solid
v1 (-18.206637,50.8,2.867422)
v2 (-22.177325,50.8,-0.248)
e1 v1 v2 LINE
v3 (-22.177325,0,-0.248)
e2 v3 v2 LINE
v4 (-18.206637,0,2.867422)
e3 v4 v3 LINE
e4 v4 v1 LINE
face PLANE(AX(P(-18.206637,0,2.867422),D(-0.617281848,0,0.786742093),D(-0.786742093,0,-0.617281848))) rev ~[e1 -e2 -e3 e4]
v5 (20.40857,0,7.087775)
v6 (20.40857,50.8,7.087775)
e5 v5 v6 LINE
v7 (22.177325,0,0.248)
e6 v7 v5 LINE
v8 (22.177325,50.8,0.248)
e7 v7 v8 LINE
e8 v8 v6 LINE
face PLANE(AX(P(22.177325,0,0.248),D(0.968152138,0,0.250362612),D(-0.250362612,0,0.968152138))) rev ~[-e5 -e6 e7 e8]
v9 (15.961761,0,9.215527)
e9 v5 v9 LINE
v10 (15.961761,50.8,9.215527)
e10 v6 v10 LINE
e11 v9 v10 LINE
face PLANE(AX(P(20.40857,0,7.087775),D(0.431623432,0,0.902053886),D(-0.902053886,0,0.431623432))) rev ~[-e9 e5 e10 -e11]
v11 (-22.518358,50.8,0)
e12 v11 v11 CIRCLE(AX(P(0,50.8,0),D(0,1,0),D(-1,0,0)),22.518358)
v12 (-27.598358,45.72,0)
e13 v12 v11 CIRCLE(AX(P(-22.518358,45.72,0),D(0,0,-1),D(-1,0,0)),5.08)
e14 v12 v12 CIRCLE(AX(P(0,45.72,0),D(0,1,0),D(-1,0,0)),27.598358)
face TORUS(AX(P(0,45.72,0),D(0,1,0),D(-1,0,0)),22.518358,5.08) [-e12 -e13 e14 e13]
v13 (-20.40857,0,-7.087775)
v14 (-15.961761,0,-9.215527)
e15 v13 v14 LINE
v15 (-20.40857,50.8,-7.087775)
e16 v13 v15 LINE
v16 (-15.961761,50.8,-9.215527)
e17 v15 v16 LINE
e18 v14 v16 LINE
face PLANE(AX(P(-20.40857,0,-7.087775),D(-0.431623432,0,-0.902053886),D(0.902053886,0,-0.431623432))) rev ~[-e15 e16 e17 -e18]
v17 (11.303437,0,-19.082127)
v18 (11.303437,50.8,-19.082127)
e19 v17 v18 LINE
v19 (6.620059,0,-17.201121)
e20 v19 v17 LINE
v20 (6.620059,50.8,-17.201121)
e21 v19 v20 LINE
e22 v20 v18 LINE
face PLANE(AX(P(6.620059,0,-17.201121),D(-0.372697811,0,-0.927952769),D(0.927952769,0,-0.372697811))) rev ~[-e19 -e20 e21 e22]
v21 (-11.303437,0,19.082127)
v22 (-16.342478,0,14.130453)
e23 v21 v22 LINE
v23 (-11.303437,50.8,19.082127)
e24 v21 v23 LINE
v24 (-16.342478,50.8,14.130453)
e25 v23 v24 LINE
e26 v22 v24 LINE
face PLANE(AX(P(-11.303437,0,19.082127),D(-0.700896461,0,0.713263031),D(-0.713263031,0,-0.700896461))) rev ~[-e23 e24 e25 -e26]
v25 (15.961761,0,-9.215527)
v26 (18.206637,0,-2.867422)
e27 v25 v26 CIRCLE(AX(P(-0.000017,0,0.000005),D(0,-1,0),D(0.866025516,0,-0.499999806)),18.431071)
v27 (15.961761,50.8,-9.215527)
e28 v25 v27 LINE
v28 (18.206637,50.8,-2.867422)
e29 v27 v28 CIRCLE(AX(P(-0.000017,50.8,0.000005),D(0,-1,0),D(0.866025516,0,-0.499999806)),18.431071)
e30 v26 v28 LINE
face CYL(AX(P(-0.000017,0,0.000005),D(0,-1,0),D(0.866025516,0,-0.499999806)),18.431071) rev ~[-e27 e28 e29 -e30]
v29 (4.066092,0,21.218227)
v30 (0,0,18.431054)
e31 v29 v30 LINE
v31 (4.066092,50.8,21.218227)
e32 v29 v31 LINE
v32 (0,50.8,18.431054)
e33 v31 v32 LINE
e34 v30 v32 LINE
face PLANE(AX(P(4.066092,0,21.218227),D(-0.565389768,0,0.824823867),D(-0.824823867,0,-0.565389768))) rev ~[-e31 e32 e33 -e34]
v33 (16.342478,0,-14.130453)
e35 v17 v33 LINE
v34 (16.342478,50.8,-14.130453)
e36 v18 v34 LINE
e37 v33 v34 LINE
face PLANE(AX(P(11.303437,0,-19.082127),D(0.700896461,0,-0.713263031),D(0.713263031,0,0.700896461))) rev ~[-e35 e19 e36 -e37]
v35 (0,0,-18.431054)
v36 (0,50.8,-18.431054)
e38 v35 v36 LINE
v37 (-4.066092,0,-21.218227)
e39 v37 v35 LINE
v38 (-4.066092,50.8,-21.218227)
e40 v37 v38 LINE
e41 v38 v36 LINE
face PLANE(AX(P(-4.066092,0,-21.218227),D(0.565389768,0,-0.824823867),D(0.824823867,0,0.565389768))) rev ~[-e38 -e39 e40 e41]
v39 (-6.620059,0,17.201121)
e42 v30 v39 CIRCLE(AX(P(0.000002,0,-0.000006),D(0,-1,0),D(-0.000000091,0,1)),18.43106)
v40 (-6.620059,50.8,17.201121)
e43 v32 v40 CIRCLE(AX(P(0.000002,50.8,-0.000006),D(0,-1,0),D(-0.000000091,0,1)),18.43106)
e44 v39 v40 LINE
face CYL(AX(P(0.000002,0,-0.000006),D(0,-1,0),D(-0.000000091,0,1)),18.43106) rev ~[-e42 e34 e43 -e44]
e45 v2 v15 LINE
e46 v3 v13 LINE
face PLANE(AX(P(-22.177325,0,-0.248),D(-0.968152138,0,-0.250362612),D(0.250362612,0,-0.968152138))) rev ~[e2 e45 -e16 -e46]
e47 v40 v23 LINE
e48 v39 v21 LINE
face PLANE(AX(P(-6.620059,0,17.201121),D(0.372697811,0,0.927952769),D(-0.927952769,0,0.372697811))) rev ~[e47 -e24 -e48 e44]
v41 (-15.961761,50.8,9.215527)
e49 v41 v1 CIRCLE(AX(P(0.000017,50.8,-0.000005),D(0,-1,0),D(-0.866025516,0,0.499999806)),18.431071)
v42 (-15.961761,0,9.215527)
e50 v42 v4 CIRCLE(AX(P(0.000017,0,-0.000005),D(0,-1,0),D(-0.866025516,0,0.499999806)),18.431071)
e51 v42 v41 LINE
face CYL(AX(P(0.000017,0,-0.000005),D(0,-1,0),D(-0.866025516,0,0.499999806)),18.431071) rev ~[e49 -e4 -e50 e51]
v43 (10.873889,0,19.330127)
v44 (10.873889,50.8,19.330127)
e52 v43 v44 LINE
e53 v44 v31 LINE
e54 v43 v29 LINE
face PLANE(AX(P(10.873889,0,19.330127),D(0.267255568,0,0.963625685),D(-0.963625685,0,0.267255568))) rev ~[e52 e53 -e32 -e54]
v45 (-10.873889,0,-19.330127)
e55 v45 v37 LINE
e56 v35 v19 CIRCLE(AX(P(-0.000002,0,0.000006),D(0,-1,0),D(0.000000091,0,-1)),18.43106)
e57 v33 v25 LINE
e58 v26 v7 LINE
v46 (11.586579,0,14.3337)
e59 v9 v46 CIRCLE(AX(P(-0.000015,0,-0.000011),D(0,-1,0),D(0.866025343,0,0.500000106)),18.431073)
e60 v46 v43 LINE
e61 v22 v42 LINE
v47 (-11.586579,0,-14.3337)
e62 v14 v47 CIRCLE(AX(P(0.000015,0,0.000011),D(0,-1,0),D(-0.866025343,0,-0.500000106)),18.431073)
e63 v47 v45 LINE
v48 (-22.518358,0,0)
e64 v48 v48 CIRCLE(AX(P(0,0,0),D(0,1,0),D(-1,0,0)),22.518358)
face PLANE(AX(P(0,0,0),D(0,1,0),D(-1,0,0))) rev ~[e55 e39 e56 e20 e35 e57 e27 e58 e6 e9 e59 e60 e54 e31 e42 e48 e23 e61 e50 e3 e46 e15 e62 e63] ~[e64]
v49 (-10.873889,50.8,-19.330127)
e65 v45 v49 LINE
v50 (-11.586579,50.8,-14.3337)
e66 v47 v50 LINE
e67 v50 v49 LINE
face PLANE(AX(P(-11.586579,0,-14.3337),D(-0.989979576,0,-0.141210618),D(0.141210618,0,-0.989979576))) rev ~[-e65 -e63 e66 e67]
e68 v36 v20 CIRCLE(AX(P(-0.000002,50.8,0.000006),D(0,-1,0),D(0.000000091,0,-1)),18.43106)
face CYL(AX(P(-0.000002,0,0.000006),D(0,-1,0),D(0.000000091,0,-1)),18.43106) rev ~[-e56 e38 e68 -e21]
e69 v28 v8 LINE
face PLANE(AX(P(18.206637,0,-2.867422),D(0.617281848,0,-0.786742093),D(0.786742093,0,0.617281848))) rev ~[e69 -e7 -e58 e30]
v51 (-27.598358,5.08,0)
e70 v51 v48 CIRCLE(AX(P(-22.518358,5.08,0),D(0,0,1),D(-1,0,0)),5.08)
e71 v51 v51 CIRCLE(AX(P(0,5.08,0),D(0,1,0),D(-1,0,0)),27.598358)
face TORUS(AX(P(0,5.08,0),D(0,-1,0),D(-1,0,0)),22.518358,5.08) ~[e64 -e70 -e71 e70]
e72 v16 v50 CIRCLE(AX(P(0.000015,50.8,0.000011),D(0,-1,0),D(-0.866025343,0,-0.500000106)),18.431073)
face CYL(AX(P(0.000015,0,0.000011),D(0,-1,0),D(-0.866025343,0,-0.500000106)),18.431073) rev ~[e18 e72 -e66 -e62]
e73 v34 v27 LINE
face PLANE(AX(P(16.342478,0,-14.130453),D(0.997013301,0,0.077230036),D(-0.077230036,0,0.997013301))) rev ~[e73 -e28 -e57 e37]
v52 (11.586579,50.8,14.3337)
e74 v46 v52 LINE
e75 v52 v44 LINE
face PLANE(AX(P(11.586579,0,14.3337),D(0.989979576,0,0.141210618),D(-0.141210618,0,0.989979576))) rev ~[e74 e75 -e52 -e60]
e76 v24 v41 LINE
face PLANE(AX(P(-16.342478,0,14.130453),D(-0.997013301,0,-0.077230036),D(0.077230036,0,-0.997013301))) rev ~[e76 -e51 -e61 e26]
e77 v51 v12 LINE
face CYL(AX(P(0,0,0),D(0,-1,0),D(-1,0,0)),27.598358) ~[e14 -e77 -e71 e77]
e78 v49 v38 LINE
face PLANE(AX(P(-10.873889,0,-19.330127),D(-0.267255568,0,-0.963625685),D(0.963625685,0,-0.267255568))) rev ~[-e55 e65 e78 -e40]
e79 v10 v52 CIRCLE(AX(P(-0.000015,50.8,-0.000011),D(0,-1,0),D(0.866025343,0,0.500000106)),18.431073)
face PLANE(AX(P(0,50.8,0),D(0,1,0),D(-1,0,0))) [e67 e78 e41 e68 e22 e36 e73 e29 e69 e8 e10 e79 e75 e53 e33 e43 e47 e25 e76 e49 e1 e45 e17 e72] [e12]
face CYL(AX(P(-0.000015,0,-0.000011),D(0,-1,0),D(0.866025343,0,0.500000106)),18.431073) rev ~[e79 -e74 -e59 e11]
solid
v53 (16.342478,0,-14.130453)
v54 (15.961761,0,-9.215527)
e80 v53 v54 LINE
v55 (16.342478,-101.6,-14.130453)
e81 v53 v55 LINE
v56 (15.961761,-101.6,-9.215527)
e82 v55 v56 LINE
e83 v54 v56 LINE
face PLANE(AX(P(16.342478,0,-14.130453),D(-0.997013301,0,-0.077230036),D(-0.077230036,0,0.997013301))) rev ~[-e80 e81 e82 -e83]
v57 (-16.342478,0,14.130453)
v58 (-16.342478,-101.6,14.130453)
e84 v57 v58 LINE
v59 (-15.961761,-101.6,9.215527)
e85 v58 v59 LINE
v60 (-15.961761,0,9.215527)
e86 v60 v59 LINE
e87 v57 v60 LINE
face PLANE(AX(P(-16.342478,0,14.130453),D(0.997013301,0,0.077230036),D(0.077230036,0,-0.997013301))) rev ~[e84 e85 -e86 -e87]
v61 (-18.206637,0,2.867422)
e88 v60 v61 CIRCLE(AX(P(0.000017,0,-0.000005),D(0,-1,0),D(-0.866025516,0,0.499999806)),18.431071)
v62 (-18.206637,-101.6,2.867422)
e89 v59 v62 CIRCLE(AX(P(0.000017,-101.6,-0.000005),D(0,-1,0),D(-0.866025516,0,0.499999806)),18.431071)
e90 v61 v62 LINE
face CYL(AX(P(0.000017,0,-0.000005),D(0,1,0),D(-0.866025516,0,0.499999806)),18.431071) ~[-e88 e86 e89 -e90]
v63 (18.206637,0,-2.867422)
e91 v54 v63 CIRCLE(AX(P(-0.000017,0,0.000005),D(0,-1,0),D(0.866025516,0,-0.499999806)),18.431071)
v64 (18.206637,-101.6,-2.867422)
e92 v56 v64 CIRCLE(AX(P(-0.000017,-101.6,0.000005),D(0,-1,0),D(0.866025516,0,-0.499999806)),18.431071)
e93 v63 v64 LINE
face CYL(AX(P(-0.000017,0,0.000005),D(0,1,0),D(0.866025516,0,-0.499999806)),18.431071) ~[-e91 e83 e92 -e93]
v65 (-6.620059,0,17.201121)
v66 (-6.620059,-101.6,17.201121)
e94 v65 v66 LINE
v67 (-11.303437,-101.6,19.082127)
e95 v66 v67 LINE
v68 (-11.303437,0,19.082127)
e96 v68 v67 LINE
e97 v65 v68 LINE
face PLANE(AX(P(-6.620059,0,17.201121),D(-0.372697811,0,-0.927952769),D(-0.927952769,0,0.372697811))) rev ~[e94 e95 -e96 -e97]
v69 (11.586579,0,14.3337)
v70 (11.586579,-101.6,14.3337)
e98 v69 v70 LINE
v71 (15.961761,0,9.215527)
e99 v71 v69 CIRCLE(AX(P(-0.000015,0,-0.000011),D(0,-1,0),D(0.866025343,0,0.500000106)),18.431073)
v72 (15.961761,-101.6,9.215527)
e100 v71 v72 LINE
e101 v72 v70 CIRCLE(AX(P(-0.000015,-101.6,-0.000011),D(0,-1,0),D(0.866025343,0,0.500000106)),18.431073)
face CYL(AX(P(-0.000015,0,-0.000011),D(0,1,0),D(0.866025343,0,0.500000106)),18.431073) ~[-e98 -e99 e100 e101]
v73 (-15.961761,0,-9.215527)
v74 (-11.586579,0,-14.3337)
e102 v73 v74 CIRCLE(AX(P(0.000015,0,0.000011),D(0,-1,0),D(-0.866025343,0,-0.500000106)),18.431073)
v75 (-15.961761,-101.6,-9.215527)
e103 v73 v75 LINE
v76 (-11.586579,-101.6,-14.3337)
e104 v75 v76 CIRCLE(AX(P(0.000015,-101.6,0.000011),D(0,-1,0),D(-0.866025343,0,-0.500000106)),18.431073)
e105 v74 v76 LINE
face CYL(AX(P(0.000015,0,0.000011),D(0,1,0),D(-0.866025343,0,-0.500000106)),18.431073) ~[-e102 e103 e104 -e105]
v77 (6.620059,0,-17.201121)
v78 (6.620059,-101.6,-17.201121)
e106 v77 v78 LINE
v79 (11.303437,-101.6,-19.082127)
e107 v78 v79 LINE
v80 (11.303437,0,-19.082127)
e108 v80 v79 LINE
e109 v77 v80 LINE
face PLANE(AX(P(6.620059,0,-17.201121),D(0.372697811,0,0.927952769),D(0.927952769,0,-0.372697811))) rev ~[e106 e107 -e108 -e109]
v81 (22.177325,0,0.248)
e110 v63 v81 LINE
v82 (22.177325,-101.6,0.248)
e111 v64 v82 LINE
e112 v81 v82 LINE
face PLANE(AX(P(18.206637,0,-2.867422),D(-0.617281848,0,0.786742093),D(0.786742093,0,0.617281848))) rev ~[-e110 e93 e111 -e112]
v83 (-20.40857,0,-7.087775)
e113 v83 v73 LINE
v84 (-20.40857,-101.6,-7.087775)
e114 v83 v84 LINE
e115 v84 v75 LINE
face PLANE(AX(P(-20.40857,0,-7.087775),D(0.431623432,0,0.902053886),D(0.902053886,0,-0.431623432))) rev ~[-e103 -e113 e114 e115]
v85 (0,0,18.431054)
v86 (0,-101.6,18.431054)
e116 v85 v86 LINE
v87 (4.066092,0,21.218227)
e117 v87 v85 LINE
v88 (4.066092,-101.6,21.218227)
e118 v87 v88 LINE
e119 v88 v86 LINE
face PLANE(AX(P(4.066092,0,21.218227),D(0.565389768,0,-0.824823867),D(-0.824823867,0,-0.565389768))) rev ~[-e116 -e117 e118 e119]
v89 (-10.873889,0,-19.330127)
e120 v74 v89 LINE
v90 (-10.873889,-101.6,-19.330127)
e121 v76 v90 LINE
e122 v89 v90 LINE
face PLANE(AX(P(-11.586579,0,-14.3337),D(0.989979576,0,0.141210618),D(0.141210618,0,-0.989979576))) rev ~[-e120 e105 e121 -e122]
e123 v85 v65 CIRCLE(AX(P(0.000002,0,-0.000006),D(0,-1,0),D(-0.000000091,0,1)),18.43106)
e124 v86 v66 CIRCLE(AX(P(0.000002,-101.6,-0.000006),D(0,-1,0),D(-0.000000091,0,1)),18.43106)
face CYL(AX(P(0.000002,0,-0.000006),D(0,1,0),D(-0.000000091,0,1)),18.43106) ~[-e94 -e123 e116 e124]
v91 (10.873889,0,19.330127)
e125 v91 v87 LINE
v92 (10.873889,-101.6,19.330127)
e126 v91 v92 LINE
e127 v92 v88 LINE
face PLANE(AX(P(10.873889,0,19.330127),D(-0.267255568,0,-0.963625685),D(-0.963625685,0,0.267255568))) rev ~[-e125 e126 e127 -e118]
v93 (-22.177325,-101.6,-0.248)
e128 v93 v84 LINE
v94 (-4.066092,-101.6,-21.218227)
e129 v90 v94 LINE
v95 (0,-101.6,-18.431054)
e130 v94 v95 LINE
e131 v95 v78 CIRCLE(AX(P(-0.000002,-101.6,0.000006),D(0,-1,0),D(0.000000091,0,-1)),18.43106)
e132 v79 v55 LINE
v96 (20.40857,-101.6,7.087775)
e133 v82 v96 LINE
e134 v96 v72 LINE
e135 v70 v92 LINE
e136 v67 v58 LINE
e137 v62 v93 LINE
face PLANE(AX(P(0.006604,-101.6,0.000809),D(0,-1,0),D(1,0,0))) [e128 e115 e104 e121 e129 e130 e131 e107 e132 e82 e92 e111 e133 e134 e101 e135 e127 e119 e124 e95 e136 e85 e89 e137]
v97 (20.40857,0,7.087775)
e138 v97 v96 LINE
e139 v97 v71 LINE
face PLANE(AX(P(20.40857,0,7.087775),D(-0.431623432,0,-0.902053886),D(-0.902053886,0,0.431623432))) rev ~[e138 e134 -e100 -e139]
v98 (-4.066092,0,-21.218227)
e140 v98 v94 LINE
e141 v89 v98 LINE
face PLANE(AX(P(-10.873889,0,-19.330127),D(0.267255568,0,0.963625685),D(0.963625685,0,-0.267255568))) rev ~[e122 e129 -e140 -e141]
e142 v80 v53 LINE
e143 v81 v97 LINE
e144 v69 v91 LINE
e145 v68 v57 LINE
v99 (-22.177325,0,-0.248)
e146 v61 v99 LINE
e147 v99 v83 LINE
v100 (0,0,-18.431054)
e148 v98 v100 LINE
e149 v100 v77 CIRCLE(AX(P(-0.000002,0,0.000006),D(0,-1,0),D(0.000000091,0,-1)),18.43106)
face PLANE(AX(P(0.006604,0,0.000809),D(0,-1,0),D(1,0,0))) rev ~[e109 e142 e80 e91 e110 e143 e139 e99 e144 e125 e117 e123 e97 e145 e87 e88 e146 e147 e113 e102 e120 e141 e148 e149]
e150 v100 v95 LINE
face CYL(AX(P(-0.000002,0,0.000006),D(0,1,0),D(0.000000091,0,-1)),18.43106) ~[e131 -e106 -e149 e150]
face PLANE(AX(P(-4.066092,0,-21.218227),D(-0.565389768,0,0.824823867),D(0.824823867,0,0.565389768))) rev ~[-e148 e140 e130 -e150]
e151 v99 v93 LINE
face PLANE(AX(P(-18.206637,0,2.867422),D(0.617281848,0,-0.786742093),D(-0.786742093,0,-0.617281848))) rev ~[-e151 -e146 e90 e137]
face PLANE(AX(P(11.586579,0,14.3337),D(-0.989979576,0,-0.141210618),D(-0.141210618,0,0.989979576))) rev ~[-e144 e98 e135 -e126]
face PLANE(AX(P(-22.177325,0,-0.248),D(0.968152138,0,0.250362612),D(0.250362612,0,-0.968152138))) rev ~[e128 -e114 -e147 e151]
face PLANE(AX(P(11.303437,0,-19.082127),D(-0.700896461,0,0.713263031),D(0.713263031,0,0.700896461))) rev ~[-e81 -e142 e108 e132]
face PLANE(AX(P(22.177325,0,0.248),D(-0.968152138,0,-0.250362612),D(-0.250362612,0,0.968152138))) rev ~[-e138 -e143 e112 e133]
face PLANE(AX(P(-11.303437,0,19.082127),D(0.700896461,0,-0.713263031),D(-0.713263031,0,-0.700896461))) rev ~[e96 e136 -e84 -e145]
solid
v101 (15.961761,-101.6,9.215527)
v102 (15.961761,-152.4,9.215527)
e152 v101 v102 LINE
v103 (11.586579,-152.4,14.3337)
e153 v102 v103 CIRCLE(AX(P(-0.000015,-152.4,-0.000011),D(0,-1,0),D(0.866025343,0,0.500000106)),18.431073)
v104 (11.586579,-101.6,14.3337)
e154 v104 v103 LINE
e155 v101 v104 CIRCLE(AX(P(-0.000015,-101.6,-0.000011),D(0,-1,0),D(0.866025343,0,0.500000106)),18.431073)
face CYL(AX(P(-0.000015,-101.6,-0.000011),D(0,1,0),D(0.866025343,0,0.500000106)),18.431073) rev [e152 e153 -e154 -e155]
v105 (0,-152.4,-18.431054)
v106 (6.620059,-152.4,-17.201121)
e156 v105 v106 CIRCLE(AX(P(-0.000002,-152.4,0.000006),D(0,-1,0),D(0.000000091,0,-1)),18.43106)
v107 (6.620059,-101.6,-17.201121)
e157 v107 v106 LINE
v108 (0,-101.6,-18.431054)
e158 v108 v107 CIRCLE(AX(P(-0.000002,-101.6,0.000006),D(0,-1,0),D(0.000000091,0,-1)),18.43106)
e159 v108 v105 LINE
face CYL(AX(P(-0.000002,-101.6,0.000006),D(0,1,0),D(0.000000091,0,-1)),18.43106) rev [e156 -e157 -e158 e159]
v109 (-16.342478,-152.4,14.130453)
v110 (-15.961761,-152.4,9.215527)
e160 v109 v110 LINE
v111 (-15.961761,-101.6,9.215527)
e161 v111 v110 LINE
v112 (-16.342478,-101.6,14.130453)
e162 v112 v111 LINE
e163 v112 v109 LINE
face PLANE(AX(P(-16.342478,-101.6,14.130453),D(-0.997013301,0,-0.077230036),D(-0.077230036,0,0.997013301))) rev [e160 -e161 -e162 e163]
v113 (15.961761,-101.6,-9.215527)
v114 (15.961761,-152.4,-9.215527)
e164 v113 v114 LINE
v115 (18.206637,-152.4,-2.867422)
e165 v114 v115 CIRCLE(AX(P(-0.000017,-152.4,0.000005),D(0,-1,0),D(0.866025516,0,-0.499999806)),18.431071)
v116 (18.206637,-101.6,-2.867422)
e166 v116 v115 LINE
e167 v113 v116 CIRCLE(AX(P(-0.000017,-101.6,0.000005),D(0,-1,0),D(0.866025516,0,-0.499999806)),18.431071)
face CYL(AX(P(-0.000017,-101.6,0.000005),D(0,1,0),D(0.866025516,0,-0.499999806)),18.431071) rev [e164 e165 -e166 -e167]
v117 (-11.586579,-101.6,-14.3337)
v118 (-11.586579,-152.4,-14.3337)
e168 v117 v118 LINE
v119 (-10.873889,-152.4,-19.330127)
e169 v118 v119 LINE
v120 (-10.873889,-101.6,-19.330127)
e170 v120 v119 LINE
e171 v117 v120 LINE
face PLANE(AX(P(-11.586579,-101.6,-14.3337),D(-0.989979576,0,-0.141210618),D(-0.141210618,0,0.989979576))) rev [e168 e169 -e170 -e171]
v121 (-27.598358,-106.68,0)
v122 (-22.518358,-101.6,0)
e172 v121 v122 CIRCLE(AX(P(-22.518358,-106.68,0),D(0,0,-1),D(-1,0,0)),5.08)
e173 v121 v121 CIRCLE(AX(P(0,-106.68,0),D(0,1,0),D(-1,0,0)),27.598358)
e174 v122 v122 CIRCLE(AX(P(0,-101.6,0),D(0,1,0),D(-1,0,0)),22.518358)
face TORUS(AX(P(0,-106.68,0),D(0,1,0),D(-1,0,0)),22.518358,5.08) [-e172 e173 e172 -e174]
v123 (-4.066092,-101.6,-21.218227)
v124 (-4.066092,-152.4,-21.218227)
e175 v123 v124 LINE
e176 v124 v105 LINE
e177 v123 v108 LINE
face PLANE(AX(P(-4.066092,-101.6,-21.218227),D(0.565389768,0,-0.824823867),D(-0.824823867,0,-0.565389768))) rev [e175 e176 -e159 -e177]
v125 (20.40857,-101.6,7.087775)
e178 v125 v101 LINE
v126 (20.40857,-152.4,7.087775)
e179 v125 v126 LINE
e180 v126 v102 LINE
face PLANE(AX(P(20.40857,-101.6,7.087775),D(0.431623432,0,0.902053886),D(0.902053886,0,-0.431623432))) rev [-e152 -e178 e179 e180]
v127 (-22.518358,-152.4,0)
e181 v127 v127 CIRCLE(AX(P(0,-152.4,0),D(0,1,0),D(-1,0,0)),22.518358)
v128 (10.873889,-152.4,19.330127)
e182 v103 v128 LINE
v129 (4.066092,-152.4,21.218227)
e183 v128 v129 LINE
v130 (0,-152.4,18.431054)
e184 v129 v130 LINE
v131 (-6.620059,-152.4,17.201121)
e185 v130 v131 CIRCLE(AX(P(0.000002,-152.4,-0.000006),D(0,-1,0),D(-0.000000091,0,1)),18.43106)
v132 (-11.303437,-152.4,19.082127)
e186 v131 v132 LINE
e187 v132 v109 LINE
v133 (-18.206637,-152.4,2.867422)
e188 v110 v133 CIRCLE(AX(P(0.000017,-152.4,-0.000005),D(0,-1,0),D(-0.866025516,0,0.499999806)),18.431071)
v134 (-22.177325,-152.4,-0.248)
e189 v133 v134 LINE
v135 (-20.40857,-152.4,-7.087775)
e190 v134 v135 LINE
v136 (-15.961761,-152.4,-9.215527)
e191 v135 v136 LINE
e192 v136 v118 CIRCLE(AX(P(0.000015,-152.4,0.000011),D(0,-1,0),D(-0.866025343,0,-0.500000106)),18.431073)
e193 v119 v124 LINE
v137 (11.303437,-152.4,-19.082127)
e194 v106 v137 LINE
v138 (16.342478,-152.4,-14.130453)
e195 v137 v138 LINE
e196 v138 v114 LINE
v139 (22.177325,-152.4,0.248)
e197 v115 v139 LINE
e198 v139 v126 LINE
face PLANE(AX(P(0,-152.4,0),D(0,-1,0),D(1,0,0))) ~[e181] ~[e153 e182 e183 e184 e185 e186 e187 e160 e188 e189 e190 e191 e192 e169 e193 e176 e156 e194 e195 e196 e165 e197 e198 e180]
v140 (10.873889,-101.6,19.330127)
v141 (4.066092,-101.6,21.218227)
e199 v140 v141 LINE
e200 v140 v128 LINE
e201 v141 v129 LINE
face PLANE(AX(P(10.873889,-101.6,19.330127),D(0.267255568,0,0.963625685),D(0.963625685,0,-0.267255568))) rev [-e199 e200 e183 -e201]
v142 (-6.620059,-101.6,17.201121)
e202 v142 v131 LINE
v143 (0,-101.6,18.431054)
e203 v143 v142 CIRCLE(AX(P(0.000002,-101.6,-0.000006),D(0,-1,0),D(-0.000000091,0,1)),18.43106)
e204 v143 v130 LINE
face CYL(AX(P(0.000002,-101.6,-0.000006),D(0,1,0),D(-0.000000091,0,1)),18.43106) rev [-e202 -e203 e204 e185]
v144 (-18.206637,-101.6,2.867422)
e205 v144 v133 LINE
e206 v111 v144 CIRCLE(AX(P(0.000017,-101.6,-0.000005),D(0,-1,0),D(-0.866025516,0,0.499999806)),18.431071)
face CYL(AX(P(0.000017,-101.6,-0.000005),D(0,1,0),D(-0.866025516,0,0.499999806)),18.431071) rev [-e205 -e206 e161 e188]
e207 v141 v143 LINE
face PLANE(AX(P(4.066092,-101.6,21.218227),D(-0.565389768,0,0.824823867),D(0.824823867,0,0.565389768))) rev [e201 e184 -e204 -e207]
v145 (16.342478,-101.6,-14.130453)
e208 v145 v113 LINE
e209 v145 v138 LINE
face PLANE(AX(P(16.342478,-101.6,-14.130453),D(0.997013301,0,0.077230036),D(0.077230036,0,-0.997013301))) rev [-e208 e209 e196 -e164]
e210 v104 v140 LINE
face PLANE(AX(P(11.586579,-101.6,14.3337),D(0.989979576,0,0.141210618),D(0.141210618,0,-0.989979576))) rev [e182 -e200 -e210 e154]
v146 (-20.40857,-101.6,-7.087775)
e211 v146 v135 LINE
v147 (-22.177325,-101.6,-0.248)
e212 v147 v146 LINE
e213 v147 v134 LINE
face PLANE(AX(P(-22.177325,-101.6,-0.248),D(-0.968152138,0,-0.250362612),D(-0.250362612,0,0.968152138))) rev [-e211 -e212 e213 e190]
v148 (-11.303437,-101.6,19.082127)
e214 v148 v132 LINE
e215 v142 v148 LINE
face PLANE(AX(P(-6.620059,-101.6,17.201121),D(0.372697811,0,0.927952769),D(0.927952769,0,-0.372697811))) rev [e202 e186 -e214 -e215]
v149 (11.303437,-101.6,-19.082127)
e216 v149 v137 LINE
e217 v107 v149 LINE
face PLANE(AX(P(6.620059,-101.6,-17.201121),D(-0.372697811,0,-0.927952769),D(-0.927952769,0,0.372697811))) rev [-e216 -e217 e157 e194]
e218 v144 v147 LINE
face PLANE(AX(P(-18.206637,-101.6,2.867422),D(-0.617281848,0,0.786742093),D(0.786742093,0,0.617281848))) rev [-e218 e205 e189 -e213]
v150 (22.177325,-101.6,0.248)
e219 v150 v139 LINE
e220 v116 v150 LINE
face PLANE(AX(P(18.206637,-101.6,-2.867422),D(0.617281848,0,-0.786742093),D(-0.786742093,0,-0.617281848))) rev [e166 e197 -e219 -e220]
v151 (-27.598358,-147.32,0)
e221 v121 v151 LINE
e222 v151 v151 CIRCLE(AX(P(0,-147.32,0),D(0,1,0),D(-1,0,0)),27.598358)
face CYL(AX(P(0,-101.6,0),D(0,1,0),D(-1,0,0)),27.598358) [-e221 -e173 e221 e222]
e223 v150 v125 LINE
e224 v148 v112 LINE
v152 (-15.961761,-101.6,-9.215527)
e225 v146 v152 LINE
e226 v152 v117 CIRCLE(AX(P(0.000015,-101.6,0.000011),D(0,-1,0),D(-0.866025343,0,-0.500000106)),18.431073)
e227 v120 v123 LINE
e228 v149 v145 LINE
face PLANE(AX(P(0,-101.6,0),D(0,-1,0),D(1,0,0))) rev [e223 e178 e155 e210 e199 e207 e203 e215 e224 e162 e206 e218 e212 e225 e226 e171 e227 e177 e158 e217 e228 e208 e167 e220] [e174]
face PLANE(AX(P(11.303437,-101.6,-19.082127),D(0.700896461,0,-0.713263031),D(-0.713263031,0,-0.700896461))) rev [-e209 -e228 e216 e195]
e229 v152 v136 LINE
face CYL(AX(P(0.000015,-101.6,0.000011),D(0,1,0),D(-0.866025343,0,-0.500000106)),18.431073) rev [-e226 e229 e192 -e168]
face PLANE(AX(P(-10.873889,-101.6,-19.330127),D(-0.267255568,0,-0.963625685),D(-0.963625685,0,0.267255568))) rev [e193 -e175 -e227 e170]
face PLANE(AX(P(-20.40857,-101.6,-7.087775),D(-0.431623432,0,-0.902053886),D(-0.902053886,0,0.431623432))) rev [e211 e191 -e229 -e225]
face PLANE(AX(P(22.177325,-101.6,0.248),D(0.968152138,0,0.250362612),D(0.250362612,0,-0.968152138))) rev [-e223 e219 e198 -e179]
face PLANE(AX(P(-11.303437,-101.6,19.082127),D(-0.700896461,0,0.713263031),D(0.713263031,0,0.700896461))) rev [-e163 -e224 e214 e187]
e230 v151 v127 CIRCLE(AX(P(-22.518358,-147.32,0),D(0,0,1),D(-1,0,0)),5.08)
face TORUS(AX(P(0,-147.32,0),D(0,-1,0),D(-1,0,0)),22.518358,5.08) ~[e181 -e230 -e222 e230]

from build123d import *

# Parameters (mm, degrees)
F1_DEPTH = 101.6
F2_R     = 27.598358
F3_DEPTH = 50.8
F4_R     = 5.08


with BuildPart() as f1:
    # F0 (on Front) → F1 (new body)
    with BuildSketch(Plane.XZ):
        with BuildLine():
            ThreePointArc((18.206637, -2.867422), (18.374864, -1.438095), (18.431054, 0))
            ThreePointArc((18.431054, 0), (17.803031, 4.770308), (15.961761, 9.215527))
            ThreePointArc((15.961761, 9.215527), (14.009878, 11.976104), (11.586579, 14.3337))
            ThreePointArc((11.586579, 14.3337), (6.144858, 17.376549), (0, 18.431054))
            ThreePointArc((0, 18.431054), (-3.366672, 18.120962), (-6.620059, 17.201121))
            ThreePointArc((-6.620059, 17.201121), (-11.976104, 14.009878), (-15.961761, 9.215527))
            ThreePointArc((-15.961761, 9.215527), (-17.376549, 6.144858), (-18.206637, 2.867422))
            ThreePointArc((-18.206637, 2.867422), (-18.120962, -3.366672), (-15.961761, -9.215527))
            ThreePointArc((-15.961761, -9.215527), (-14.009878, -11.976104), (-11.586579, -14.3337))
            ThreePointArc((-11.586579, -14.3337), (-6.144858, -17.376549), (0, -18.431054))
            ThreePointArc((0, -18.431054), (3.366672, -18.120962), (6.620059, -17.201121))
            ThreePointArc((6.620059, -17.201121), (11.976104, -14.009878), (15.961761, -9.215527))
            ThreePointArc((15.961761, -9.215527), (17.376549, -6.144858), (18.206637, -2.867422))
        make_face()
        with BuildLine():
            ThreePointArc((15.961761, 9.215527), (17.803031, 4.770308), (18.431054, 0))
            ThreePointArc((18.431054, 0), (18.374864, -1.438095), (18.206637, -2.867422))
            Line((18.206637, -2.867422), (22.177325, 0.248))
            Line((22.177325, 0.248), (20.40857, 7.087775))
            Line((20.40857, 7.087775), (15.961761, 9.215527))
        make_face()
        with BuildLine():
            ThreePointArc((0, 18.431054), (6.144858, 17.376549), (11.586579, 14.3337))
            Line((11.586579, 14.3337), (10.873889, 19.330127))
            Line((10.873889, 19.330127), (4.066092, 21.218227))
            Line((4.066092, 21.218227), (0, 18.431054))
        make_face()
        with BuildLine():
            Line((16.342478, -14.130453), (15.961761, -9.215527))
            ThreePointArc((15.961761, -9.215527), (11.976104, -14.009878), (6.620059, -17.201121))
            Line((6.620059, -17.201121), (11.303437, -19.082127))
            Line((11.303437, -19.082127), (16.342478, -14.130453))
        make_face()
        with BuildLine():
            ThreePointArc((-15.961761, 9.215527), (-11.976104, 14.009878), (-6.620059, 17.201121))
            Line((-6.620059, 17.201121), (-11.303437, 19.082127))
            Line((-11.303437, 19.082127), (-16.342478, 14.130453))
            Line((-16.342478, 14.130453), (-15.961761, 9.215527))
        make_face()
        with BuildLine():
            Line((-4.066092, -21.218227), (0, -18.431054))
            ThreePointArc((0, -18.431054), (-6.144858, -17.376549), (-11.586579, -14.3337))
            Line((-11.586579, -14.3337), (-10.873889, -19.330127))
            Line((-10.873889, -19.330127), (-4.066092, -21.218227))
        make_face()
        with BuildLine():
            ThreePointArc((-15.961761, -9.215527), (-18.120962, -3.366672), (-18.206637, 2.867422))
            Line((-18.206637, 2.867422), (-22.177325, -0.248))
            Line((-22.177325, -0.248), (-20.40857, -7.087775))
            Line((-20.40857, -7.087775), (-15.961761, -9.215527))
        make_face()
    extrude(amount=F1_DEPTH)


with BuildPart() as f3:
    # F2 (on face) → F3 (new body)
    with BuildSketch(Plane(origin=(0, 0, 0), x_dir=(-1, 0, 0), z_dir=(0, 1, 0))):
        Circle(F2_R)
        with BuildLine():
            Line((-18.206637, -2.867422), (-22.177325, 0.248))
            Line((-22.177325, 0.248), (-20.40857, 7.087775))
            Line((-20.40857, 7.087775), (-15.961761, 9.215527))
            ThreePointArc((-15.961761, 9.215527), (-14.009878, 11.976104), (-11.586579, 14.3337))
            Line((-11.586579, 14.3337), (-10.873889, 19.330127))
            Line((-10.873889, 19.330127), (-4.066092, 21.218227))
            Line((-4.066092, 21.218227), (0, 18.431054))
            ThreePointArc((0, 18.431054), (3.366672, 18.120962), (6.620059, 17.201121))
            Line((6.620059, 17.201121), (11.303437, 19.082127))
            Line((11.303437, 19.082127), (16.342478, 14.130453))
            Line((16.342478, 14.130453), (15.961761, 9.215527))
            ThreePointArc((15.961761, 9.215527), (17.376549, 6.144858), (18.206637, 2.867422))
            Line((18.206637, 2.867422), (22.177325, -0.248))
            Line((22.177325, -0.248), (20.40857, -7.087775))
            Line((20.40857, -7.087775), (15.961761, -9.215527))
            ThreePointArc((15.961761, -9.215527), (14.009878, -11.976104), (11.586579, -14.3337))
            Line((11.586579, -14.3337), (10.873889, -19.330127))
            Line((10.873889, -19.330127), (4.066092, -21.218227))
            Line((4.066092, -21.218227), (0, -18.431054))
            ThreePointArc((0, -18.431054), (-3.366672, -18.120962), (-6.620059, -17.201121))
            Line((-6.620059, -17.201121), (-11.303437, -19.082127))
            Line((-11.303437, -19.082127), (-16.342478, -14.130453))
            Line((-16.342478, -14.130453), (-15.961761, -9.215527))
            ThreePointArc((-15.961761, -9.215527), (-17.376549, -6.144858), (-18.206637, -2.867422))
        make_face(mode=Mode.SUBTRACT)
    extrude(amount=F3_DEPTH)

    # F4
    f4_edges = [f3.edges().sort_by_distance(p)[0] for p in [
        (-27.598358, 25.4, 0),
        (27.598358, 0, 0),
        (27.598358, 50.8, 0),
    ]]
    fillet(f4_edges, radius=F4_R)


with BuildPart() as f6_1:
    # F6: instance of F3
    add(f3.part.mirror(Plane.XZ.offset(50.8)))


solid = Compound([f1.part, f3.part, f6_1.part])
